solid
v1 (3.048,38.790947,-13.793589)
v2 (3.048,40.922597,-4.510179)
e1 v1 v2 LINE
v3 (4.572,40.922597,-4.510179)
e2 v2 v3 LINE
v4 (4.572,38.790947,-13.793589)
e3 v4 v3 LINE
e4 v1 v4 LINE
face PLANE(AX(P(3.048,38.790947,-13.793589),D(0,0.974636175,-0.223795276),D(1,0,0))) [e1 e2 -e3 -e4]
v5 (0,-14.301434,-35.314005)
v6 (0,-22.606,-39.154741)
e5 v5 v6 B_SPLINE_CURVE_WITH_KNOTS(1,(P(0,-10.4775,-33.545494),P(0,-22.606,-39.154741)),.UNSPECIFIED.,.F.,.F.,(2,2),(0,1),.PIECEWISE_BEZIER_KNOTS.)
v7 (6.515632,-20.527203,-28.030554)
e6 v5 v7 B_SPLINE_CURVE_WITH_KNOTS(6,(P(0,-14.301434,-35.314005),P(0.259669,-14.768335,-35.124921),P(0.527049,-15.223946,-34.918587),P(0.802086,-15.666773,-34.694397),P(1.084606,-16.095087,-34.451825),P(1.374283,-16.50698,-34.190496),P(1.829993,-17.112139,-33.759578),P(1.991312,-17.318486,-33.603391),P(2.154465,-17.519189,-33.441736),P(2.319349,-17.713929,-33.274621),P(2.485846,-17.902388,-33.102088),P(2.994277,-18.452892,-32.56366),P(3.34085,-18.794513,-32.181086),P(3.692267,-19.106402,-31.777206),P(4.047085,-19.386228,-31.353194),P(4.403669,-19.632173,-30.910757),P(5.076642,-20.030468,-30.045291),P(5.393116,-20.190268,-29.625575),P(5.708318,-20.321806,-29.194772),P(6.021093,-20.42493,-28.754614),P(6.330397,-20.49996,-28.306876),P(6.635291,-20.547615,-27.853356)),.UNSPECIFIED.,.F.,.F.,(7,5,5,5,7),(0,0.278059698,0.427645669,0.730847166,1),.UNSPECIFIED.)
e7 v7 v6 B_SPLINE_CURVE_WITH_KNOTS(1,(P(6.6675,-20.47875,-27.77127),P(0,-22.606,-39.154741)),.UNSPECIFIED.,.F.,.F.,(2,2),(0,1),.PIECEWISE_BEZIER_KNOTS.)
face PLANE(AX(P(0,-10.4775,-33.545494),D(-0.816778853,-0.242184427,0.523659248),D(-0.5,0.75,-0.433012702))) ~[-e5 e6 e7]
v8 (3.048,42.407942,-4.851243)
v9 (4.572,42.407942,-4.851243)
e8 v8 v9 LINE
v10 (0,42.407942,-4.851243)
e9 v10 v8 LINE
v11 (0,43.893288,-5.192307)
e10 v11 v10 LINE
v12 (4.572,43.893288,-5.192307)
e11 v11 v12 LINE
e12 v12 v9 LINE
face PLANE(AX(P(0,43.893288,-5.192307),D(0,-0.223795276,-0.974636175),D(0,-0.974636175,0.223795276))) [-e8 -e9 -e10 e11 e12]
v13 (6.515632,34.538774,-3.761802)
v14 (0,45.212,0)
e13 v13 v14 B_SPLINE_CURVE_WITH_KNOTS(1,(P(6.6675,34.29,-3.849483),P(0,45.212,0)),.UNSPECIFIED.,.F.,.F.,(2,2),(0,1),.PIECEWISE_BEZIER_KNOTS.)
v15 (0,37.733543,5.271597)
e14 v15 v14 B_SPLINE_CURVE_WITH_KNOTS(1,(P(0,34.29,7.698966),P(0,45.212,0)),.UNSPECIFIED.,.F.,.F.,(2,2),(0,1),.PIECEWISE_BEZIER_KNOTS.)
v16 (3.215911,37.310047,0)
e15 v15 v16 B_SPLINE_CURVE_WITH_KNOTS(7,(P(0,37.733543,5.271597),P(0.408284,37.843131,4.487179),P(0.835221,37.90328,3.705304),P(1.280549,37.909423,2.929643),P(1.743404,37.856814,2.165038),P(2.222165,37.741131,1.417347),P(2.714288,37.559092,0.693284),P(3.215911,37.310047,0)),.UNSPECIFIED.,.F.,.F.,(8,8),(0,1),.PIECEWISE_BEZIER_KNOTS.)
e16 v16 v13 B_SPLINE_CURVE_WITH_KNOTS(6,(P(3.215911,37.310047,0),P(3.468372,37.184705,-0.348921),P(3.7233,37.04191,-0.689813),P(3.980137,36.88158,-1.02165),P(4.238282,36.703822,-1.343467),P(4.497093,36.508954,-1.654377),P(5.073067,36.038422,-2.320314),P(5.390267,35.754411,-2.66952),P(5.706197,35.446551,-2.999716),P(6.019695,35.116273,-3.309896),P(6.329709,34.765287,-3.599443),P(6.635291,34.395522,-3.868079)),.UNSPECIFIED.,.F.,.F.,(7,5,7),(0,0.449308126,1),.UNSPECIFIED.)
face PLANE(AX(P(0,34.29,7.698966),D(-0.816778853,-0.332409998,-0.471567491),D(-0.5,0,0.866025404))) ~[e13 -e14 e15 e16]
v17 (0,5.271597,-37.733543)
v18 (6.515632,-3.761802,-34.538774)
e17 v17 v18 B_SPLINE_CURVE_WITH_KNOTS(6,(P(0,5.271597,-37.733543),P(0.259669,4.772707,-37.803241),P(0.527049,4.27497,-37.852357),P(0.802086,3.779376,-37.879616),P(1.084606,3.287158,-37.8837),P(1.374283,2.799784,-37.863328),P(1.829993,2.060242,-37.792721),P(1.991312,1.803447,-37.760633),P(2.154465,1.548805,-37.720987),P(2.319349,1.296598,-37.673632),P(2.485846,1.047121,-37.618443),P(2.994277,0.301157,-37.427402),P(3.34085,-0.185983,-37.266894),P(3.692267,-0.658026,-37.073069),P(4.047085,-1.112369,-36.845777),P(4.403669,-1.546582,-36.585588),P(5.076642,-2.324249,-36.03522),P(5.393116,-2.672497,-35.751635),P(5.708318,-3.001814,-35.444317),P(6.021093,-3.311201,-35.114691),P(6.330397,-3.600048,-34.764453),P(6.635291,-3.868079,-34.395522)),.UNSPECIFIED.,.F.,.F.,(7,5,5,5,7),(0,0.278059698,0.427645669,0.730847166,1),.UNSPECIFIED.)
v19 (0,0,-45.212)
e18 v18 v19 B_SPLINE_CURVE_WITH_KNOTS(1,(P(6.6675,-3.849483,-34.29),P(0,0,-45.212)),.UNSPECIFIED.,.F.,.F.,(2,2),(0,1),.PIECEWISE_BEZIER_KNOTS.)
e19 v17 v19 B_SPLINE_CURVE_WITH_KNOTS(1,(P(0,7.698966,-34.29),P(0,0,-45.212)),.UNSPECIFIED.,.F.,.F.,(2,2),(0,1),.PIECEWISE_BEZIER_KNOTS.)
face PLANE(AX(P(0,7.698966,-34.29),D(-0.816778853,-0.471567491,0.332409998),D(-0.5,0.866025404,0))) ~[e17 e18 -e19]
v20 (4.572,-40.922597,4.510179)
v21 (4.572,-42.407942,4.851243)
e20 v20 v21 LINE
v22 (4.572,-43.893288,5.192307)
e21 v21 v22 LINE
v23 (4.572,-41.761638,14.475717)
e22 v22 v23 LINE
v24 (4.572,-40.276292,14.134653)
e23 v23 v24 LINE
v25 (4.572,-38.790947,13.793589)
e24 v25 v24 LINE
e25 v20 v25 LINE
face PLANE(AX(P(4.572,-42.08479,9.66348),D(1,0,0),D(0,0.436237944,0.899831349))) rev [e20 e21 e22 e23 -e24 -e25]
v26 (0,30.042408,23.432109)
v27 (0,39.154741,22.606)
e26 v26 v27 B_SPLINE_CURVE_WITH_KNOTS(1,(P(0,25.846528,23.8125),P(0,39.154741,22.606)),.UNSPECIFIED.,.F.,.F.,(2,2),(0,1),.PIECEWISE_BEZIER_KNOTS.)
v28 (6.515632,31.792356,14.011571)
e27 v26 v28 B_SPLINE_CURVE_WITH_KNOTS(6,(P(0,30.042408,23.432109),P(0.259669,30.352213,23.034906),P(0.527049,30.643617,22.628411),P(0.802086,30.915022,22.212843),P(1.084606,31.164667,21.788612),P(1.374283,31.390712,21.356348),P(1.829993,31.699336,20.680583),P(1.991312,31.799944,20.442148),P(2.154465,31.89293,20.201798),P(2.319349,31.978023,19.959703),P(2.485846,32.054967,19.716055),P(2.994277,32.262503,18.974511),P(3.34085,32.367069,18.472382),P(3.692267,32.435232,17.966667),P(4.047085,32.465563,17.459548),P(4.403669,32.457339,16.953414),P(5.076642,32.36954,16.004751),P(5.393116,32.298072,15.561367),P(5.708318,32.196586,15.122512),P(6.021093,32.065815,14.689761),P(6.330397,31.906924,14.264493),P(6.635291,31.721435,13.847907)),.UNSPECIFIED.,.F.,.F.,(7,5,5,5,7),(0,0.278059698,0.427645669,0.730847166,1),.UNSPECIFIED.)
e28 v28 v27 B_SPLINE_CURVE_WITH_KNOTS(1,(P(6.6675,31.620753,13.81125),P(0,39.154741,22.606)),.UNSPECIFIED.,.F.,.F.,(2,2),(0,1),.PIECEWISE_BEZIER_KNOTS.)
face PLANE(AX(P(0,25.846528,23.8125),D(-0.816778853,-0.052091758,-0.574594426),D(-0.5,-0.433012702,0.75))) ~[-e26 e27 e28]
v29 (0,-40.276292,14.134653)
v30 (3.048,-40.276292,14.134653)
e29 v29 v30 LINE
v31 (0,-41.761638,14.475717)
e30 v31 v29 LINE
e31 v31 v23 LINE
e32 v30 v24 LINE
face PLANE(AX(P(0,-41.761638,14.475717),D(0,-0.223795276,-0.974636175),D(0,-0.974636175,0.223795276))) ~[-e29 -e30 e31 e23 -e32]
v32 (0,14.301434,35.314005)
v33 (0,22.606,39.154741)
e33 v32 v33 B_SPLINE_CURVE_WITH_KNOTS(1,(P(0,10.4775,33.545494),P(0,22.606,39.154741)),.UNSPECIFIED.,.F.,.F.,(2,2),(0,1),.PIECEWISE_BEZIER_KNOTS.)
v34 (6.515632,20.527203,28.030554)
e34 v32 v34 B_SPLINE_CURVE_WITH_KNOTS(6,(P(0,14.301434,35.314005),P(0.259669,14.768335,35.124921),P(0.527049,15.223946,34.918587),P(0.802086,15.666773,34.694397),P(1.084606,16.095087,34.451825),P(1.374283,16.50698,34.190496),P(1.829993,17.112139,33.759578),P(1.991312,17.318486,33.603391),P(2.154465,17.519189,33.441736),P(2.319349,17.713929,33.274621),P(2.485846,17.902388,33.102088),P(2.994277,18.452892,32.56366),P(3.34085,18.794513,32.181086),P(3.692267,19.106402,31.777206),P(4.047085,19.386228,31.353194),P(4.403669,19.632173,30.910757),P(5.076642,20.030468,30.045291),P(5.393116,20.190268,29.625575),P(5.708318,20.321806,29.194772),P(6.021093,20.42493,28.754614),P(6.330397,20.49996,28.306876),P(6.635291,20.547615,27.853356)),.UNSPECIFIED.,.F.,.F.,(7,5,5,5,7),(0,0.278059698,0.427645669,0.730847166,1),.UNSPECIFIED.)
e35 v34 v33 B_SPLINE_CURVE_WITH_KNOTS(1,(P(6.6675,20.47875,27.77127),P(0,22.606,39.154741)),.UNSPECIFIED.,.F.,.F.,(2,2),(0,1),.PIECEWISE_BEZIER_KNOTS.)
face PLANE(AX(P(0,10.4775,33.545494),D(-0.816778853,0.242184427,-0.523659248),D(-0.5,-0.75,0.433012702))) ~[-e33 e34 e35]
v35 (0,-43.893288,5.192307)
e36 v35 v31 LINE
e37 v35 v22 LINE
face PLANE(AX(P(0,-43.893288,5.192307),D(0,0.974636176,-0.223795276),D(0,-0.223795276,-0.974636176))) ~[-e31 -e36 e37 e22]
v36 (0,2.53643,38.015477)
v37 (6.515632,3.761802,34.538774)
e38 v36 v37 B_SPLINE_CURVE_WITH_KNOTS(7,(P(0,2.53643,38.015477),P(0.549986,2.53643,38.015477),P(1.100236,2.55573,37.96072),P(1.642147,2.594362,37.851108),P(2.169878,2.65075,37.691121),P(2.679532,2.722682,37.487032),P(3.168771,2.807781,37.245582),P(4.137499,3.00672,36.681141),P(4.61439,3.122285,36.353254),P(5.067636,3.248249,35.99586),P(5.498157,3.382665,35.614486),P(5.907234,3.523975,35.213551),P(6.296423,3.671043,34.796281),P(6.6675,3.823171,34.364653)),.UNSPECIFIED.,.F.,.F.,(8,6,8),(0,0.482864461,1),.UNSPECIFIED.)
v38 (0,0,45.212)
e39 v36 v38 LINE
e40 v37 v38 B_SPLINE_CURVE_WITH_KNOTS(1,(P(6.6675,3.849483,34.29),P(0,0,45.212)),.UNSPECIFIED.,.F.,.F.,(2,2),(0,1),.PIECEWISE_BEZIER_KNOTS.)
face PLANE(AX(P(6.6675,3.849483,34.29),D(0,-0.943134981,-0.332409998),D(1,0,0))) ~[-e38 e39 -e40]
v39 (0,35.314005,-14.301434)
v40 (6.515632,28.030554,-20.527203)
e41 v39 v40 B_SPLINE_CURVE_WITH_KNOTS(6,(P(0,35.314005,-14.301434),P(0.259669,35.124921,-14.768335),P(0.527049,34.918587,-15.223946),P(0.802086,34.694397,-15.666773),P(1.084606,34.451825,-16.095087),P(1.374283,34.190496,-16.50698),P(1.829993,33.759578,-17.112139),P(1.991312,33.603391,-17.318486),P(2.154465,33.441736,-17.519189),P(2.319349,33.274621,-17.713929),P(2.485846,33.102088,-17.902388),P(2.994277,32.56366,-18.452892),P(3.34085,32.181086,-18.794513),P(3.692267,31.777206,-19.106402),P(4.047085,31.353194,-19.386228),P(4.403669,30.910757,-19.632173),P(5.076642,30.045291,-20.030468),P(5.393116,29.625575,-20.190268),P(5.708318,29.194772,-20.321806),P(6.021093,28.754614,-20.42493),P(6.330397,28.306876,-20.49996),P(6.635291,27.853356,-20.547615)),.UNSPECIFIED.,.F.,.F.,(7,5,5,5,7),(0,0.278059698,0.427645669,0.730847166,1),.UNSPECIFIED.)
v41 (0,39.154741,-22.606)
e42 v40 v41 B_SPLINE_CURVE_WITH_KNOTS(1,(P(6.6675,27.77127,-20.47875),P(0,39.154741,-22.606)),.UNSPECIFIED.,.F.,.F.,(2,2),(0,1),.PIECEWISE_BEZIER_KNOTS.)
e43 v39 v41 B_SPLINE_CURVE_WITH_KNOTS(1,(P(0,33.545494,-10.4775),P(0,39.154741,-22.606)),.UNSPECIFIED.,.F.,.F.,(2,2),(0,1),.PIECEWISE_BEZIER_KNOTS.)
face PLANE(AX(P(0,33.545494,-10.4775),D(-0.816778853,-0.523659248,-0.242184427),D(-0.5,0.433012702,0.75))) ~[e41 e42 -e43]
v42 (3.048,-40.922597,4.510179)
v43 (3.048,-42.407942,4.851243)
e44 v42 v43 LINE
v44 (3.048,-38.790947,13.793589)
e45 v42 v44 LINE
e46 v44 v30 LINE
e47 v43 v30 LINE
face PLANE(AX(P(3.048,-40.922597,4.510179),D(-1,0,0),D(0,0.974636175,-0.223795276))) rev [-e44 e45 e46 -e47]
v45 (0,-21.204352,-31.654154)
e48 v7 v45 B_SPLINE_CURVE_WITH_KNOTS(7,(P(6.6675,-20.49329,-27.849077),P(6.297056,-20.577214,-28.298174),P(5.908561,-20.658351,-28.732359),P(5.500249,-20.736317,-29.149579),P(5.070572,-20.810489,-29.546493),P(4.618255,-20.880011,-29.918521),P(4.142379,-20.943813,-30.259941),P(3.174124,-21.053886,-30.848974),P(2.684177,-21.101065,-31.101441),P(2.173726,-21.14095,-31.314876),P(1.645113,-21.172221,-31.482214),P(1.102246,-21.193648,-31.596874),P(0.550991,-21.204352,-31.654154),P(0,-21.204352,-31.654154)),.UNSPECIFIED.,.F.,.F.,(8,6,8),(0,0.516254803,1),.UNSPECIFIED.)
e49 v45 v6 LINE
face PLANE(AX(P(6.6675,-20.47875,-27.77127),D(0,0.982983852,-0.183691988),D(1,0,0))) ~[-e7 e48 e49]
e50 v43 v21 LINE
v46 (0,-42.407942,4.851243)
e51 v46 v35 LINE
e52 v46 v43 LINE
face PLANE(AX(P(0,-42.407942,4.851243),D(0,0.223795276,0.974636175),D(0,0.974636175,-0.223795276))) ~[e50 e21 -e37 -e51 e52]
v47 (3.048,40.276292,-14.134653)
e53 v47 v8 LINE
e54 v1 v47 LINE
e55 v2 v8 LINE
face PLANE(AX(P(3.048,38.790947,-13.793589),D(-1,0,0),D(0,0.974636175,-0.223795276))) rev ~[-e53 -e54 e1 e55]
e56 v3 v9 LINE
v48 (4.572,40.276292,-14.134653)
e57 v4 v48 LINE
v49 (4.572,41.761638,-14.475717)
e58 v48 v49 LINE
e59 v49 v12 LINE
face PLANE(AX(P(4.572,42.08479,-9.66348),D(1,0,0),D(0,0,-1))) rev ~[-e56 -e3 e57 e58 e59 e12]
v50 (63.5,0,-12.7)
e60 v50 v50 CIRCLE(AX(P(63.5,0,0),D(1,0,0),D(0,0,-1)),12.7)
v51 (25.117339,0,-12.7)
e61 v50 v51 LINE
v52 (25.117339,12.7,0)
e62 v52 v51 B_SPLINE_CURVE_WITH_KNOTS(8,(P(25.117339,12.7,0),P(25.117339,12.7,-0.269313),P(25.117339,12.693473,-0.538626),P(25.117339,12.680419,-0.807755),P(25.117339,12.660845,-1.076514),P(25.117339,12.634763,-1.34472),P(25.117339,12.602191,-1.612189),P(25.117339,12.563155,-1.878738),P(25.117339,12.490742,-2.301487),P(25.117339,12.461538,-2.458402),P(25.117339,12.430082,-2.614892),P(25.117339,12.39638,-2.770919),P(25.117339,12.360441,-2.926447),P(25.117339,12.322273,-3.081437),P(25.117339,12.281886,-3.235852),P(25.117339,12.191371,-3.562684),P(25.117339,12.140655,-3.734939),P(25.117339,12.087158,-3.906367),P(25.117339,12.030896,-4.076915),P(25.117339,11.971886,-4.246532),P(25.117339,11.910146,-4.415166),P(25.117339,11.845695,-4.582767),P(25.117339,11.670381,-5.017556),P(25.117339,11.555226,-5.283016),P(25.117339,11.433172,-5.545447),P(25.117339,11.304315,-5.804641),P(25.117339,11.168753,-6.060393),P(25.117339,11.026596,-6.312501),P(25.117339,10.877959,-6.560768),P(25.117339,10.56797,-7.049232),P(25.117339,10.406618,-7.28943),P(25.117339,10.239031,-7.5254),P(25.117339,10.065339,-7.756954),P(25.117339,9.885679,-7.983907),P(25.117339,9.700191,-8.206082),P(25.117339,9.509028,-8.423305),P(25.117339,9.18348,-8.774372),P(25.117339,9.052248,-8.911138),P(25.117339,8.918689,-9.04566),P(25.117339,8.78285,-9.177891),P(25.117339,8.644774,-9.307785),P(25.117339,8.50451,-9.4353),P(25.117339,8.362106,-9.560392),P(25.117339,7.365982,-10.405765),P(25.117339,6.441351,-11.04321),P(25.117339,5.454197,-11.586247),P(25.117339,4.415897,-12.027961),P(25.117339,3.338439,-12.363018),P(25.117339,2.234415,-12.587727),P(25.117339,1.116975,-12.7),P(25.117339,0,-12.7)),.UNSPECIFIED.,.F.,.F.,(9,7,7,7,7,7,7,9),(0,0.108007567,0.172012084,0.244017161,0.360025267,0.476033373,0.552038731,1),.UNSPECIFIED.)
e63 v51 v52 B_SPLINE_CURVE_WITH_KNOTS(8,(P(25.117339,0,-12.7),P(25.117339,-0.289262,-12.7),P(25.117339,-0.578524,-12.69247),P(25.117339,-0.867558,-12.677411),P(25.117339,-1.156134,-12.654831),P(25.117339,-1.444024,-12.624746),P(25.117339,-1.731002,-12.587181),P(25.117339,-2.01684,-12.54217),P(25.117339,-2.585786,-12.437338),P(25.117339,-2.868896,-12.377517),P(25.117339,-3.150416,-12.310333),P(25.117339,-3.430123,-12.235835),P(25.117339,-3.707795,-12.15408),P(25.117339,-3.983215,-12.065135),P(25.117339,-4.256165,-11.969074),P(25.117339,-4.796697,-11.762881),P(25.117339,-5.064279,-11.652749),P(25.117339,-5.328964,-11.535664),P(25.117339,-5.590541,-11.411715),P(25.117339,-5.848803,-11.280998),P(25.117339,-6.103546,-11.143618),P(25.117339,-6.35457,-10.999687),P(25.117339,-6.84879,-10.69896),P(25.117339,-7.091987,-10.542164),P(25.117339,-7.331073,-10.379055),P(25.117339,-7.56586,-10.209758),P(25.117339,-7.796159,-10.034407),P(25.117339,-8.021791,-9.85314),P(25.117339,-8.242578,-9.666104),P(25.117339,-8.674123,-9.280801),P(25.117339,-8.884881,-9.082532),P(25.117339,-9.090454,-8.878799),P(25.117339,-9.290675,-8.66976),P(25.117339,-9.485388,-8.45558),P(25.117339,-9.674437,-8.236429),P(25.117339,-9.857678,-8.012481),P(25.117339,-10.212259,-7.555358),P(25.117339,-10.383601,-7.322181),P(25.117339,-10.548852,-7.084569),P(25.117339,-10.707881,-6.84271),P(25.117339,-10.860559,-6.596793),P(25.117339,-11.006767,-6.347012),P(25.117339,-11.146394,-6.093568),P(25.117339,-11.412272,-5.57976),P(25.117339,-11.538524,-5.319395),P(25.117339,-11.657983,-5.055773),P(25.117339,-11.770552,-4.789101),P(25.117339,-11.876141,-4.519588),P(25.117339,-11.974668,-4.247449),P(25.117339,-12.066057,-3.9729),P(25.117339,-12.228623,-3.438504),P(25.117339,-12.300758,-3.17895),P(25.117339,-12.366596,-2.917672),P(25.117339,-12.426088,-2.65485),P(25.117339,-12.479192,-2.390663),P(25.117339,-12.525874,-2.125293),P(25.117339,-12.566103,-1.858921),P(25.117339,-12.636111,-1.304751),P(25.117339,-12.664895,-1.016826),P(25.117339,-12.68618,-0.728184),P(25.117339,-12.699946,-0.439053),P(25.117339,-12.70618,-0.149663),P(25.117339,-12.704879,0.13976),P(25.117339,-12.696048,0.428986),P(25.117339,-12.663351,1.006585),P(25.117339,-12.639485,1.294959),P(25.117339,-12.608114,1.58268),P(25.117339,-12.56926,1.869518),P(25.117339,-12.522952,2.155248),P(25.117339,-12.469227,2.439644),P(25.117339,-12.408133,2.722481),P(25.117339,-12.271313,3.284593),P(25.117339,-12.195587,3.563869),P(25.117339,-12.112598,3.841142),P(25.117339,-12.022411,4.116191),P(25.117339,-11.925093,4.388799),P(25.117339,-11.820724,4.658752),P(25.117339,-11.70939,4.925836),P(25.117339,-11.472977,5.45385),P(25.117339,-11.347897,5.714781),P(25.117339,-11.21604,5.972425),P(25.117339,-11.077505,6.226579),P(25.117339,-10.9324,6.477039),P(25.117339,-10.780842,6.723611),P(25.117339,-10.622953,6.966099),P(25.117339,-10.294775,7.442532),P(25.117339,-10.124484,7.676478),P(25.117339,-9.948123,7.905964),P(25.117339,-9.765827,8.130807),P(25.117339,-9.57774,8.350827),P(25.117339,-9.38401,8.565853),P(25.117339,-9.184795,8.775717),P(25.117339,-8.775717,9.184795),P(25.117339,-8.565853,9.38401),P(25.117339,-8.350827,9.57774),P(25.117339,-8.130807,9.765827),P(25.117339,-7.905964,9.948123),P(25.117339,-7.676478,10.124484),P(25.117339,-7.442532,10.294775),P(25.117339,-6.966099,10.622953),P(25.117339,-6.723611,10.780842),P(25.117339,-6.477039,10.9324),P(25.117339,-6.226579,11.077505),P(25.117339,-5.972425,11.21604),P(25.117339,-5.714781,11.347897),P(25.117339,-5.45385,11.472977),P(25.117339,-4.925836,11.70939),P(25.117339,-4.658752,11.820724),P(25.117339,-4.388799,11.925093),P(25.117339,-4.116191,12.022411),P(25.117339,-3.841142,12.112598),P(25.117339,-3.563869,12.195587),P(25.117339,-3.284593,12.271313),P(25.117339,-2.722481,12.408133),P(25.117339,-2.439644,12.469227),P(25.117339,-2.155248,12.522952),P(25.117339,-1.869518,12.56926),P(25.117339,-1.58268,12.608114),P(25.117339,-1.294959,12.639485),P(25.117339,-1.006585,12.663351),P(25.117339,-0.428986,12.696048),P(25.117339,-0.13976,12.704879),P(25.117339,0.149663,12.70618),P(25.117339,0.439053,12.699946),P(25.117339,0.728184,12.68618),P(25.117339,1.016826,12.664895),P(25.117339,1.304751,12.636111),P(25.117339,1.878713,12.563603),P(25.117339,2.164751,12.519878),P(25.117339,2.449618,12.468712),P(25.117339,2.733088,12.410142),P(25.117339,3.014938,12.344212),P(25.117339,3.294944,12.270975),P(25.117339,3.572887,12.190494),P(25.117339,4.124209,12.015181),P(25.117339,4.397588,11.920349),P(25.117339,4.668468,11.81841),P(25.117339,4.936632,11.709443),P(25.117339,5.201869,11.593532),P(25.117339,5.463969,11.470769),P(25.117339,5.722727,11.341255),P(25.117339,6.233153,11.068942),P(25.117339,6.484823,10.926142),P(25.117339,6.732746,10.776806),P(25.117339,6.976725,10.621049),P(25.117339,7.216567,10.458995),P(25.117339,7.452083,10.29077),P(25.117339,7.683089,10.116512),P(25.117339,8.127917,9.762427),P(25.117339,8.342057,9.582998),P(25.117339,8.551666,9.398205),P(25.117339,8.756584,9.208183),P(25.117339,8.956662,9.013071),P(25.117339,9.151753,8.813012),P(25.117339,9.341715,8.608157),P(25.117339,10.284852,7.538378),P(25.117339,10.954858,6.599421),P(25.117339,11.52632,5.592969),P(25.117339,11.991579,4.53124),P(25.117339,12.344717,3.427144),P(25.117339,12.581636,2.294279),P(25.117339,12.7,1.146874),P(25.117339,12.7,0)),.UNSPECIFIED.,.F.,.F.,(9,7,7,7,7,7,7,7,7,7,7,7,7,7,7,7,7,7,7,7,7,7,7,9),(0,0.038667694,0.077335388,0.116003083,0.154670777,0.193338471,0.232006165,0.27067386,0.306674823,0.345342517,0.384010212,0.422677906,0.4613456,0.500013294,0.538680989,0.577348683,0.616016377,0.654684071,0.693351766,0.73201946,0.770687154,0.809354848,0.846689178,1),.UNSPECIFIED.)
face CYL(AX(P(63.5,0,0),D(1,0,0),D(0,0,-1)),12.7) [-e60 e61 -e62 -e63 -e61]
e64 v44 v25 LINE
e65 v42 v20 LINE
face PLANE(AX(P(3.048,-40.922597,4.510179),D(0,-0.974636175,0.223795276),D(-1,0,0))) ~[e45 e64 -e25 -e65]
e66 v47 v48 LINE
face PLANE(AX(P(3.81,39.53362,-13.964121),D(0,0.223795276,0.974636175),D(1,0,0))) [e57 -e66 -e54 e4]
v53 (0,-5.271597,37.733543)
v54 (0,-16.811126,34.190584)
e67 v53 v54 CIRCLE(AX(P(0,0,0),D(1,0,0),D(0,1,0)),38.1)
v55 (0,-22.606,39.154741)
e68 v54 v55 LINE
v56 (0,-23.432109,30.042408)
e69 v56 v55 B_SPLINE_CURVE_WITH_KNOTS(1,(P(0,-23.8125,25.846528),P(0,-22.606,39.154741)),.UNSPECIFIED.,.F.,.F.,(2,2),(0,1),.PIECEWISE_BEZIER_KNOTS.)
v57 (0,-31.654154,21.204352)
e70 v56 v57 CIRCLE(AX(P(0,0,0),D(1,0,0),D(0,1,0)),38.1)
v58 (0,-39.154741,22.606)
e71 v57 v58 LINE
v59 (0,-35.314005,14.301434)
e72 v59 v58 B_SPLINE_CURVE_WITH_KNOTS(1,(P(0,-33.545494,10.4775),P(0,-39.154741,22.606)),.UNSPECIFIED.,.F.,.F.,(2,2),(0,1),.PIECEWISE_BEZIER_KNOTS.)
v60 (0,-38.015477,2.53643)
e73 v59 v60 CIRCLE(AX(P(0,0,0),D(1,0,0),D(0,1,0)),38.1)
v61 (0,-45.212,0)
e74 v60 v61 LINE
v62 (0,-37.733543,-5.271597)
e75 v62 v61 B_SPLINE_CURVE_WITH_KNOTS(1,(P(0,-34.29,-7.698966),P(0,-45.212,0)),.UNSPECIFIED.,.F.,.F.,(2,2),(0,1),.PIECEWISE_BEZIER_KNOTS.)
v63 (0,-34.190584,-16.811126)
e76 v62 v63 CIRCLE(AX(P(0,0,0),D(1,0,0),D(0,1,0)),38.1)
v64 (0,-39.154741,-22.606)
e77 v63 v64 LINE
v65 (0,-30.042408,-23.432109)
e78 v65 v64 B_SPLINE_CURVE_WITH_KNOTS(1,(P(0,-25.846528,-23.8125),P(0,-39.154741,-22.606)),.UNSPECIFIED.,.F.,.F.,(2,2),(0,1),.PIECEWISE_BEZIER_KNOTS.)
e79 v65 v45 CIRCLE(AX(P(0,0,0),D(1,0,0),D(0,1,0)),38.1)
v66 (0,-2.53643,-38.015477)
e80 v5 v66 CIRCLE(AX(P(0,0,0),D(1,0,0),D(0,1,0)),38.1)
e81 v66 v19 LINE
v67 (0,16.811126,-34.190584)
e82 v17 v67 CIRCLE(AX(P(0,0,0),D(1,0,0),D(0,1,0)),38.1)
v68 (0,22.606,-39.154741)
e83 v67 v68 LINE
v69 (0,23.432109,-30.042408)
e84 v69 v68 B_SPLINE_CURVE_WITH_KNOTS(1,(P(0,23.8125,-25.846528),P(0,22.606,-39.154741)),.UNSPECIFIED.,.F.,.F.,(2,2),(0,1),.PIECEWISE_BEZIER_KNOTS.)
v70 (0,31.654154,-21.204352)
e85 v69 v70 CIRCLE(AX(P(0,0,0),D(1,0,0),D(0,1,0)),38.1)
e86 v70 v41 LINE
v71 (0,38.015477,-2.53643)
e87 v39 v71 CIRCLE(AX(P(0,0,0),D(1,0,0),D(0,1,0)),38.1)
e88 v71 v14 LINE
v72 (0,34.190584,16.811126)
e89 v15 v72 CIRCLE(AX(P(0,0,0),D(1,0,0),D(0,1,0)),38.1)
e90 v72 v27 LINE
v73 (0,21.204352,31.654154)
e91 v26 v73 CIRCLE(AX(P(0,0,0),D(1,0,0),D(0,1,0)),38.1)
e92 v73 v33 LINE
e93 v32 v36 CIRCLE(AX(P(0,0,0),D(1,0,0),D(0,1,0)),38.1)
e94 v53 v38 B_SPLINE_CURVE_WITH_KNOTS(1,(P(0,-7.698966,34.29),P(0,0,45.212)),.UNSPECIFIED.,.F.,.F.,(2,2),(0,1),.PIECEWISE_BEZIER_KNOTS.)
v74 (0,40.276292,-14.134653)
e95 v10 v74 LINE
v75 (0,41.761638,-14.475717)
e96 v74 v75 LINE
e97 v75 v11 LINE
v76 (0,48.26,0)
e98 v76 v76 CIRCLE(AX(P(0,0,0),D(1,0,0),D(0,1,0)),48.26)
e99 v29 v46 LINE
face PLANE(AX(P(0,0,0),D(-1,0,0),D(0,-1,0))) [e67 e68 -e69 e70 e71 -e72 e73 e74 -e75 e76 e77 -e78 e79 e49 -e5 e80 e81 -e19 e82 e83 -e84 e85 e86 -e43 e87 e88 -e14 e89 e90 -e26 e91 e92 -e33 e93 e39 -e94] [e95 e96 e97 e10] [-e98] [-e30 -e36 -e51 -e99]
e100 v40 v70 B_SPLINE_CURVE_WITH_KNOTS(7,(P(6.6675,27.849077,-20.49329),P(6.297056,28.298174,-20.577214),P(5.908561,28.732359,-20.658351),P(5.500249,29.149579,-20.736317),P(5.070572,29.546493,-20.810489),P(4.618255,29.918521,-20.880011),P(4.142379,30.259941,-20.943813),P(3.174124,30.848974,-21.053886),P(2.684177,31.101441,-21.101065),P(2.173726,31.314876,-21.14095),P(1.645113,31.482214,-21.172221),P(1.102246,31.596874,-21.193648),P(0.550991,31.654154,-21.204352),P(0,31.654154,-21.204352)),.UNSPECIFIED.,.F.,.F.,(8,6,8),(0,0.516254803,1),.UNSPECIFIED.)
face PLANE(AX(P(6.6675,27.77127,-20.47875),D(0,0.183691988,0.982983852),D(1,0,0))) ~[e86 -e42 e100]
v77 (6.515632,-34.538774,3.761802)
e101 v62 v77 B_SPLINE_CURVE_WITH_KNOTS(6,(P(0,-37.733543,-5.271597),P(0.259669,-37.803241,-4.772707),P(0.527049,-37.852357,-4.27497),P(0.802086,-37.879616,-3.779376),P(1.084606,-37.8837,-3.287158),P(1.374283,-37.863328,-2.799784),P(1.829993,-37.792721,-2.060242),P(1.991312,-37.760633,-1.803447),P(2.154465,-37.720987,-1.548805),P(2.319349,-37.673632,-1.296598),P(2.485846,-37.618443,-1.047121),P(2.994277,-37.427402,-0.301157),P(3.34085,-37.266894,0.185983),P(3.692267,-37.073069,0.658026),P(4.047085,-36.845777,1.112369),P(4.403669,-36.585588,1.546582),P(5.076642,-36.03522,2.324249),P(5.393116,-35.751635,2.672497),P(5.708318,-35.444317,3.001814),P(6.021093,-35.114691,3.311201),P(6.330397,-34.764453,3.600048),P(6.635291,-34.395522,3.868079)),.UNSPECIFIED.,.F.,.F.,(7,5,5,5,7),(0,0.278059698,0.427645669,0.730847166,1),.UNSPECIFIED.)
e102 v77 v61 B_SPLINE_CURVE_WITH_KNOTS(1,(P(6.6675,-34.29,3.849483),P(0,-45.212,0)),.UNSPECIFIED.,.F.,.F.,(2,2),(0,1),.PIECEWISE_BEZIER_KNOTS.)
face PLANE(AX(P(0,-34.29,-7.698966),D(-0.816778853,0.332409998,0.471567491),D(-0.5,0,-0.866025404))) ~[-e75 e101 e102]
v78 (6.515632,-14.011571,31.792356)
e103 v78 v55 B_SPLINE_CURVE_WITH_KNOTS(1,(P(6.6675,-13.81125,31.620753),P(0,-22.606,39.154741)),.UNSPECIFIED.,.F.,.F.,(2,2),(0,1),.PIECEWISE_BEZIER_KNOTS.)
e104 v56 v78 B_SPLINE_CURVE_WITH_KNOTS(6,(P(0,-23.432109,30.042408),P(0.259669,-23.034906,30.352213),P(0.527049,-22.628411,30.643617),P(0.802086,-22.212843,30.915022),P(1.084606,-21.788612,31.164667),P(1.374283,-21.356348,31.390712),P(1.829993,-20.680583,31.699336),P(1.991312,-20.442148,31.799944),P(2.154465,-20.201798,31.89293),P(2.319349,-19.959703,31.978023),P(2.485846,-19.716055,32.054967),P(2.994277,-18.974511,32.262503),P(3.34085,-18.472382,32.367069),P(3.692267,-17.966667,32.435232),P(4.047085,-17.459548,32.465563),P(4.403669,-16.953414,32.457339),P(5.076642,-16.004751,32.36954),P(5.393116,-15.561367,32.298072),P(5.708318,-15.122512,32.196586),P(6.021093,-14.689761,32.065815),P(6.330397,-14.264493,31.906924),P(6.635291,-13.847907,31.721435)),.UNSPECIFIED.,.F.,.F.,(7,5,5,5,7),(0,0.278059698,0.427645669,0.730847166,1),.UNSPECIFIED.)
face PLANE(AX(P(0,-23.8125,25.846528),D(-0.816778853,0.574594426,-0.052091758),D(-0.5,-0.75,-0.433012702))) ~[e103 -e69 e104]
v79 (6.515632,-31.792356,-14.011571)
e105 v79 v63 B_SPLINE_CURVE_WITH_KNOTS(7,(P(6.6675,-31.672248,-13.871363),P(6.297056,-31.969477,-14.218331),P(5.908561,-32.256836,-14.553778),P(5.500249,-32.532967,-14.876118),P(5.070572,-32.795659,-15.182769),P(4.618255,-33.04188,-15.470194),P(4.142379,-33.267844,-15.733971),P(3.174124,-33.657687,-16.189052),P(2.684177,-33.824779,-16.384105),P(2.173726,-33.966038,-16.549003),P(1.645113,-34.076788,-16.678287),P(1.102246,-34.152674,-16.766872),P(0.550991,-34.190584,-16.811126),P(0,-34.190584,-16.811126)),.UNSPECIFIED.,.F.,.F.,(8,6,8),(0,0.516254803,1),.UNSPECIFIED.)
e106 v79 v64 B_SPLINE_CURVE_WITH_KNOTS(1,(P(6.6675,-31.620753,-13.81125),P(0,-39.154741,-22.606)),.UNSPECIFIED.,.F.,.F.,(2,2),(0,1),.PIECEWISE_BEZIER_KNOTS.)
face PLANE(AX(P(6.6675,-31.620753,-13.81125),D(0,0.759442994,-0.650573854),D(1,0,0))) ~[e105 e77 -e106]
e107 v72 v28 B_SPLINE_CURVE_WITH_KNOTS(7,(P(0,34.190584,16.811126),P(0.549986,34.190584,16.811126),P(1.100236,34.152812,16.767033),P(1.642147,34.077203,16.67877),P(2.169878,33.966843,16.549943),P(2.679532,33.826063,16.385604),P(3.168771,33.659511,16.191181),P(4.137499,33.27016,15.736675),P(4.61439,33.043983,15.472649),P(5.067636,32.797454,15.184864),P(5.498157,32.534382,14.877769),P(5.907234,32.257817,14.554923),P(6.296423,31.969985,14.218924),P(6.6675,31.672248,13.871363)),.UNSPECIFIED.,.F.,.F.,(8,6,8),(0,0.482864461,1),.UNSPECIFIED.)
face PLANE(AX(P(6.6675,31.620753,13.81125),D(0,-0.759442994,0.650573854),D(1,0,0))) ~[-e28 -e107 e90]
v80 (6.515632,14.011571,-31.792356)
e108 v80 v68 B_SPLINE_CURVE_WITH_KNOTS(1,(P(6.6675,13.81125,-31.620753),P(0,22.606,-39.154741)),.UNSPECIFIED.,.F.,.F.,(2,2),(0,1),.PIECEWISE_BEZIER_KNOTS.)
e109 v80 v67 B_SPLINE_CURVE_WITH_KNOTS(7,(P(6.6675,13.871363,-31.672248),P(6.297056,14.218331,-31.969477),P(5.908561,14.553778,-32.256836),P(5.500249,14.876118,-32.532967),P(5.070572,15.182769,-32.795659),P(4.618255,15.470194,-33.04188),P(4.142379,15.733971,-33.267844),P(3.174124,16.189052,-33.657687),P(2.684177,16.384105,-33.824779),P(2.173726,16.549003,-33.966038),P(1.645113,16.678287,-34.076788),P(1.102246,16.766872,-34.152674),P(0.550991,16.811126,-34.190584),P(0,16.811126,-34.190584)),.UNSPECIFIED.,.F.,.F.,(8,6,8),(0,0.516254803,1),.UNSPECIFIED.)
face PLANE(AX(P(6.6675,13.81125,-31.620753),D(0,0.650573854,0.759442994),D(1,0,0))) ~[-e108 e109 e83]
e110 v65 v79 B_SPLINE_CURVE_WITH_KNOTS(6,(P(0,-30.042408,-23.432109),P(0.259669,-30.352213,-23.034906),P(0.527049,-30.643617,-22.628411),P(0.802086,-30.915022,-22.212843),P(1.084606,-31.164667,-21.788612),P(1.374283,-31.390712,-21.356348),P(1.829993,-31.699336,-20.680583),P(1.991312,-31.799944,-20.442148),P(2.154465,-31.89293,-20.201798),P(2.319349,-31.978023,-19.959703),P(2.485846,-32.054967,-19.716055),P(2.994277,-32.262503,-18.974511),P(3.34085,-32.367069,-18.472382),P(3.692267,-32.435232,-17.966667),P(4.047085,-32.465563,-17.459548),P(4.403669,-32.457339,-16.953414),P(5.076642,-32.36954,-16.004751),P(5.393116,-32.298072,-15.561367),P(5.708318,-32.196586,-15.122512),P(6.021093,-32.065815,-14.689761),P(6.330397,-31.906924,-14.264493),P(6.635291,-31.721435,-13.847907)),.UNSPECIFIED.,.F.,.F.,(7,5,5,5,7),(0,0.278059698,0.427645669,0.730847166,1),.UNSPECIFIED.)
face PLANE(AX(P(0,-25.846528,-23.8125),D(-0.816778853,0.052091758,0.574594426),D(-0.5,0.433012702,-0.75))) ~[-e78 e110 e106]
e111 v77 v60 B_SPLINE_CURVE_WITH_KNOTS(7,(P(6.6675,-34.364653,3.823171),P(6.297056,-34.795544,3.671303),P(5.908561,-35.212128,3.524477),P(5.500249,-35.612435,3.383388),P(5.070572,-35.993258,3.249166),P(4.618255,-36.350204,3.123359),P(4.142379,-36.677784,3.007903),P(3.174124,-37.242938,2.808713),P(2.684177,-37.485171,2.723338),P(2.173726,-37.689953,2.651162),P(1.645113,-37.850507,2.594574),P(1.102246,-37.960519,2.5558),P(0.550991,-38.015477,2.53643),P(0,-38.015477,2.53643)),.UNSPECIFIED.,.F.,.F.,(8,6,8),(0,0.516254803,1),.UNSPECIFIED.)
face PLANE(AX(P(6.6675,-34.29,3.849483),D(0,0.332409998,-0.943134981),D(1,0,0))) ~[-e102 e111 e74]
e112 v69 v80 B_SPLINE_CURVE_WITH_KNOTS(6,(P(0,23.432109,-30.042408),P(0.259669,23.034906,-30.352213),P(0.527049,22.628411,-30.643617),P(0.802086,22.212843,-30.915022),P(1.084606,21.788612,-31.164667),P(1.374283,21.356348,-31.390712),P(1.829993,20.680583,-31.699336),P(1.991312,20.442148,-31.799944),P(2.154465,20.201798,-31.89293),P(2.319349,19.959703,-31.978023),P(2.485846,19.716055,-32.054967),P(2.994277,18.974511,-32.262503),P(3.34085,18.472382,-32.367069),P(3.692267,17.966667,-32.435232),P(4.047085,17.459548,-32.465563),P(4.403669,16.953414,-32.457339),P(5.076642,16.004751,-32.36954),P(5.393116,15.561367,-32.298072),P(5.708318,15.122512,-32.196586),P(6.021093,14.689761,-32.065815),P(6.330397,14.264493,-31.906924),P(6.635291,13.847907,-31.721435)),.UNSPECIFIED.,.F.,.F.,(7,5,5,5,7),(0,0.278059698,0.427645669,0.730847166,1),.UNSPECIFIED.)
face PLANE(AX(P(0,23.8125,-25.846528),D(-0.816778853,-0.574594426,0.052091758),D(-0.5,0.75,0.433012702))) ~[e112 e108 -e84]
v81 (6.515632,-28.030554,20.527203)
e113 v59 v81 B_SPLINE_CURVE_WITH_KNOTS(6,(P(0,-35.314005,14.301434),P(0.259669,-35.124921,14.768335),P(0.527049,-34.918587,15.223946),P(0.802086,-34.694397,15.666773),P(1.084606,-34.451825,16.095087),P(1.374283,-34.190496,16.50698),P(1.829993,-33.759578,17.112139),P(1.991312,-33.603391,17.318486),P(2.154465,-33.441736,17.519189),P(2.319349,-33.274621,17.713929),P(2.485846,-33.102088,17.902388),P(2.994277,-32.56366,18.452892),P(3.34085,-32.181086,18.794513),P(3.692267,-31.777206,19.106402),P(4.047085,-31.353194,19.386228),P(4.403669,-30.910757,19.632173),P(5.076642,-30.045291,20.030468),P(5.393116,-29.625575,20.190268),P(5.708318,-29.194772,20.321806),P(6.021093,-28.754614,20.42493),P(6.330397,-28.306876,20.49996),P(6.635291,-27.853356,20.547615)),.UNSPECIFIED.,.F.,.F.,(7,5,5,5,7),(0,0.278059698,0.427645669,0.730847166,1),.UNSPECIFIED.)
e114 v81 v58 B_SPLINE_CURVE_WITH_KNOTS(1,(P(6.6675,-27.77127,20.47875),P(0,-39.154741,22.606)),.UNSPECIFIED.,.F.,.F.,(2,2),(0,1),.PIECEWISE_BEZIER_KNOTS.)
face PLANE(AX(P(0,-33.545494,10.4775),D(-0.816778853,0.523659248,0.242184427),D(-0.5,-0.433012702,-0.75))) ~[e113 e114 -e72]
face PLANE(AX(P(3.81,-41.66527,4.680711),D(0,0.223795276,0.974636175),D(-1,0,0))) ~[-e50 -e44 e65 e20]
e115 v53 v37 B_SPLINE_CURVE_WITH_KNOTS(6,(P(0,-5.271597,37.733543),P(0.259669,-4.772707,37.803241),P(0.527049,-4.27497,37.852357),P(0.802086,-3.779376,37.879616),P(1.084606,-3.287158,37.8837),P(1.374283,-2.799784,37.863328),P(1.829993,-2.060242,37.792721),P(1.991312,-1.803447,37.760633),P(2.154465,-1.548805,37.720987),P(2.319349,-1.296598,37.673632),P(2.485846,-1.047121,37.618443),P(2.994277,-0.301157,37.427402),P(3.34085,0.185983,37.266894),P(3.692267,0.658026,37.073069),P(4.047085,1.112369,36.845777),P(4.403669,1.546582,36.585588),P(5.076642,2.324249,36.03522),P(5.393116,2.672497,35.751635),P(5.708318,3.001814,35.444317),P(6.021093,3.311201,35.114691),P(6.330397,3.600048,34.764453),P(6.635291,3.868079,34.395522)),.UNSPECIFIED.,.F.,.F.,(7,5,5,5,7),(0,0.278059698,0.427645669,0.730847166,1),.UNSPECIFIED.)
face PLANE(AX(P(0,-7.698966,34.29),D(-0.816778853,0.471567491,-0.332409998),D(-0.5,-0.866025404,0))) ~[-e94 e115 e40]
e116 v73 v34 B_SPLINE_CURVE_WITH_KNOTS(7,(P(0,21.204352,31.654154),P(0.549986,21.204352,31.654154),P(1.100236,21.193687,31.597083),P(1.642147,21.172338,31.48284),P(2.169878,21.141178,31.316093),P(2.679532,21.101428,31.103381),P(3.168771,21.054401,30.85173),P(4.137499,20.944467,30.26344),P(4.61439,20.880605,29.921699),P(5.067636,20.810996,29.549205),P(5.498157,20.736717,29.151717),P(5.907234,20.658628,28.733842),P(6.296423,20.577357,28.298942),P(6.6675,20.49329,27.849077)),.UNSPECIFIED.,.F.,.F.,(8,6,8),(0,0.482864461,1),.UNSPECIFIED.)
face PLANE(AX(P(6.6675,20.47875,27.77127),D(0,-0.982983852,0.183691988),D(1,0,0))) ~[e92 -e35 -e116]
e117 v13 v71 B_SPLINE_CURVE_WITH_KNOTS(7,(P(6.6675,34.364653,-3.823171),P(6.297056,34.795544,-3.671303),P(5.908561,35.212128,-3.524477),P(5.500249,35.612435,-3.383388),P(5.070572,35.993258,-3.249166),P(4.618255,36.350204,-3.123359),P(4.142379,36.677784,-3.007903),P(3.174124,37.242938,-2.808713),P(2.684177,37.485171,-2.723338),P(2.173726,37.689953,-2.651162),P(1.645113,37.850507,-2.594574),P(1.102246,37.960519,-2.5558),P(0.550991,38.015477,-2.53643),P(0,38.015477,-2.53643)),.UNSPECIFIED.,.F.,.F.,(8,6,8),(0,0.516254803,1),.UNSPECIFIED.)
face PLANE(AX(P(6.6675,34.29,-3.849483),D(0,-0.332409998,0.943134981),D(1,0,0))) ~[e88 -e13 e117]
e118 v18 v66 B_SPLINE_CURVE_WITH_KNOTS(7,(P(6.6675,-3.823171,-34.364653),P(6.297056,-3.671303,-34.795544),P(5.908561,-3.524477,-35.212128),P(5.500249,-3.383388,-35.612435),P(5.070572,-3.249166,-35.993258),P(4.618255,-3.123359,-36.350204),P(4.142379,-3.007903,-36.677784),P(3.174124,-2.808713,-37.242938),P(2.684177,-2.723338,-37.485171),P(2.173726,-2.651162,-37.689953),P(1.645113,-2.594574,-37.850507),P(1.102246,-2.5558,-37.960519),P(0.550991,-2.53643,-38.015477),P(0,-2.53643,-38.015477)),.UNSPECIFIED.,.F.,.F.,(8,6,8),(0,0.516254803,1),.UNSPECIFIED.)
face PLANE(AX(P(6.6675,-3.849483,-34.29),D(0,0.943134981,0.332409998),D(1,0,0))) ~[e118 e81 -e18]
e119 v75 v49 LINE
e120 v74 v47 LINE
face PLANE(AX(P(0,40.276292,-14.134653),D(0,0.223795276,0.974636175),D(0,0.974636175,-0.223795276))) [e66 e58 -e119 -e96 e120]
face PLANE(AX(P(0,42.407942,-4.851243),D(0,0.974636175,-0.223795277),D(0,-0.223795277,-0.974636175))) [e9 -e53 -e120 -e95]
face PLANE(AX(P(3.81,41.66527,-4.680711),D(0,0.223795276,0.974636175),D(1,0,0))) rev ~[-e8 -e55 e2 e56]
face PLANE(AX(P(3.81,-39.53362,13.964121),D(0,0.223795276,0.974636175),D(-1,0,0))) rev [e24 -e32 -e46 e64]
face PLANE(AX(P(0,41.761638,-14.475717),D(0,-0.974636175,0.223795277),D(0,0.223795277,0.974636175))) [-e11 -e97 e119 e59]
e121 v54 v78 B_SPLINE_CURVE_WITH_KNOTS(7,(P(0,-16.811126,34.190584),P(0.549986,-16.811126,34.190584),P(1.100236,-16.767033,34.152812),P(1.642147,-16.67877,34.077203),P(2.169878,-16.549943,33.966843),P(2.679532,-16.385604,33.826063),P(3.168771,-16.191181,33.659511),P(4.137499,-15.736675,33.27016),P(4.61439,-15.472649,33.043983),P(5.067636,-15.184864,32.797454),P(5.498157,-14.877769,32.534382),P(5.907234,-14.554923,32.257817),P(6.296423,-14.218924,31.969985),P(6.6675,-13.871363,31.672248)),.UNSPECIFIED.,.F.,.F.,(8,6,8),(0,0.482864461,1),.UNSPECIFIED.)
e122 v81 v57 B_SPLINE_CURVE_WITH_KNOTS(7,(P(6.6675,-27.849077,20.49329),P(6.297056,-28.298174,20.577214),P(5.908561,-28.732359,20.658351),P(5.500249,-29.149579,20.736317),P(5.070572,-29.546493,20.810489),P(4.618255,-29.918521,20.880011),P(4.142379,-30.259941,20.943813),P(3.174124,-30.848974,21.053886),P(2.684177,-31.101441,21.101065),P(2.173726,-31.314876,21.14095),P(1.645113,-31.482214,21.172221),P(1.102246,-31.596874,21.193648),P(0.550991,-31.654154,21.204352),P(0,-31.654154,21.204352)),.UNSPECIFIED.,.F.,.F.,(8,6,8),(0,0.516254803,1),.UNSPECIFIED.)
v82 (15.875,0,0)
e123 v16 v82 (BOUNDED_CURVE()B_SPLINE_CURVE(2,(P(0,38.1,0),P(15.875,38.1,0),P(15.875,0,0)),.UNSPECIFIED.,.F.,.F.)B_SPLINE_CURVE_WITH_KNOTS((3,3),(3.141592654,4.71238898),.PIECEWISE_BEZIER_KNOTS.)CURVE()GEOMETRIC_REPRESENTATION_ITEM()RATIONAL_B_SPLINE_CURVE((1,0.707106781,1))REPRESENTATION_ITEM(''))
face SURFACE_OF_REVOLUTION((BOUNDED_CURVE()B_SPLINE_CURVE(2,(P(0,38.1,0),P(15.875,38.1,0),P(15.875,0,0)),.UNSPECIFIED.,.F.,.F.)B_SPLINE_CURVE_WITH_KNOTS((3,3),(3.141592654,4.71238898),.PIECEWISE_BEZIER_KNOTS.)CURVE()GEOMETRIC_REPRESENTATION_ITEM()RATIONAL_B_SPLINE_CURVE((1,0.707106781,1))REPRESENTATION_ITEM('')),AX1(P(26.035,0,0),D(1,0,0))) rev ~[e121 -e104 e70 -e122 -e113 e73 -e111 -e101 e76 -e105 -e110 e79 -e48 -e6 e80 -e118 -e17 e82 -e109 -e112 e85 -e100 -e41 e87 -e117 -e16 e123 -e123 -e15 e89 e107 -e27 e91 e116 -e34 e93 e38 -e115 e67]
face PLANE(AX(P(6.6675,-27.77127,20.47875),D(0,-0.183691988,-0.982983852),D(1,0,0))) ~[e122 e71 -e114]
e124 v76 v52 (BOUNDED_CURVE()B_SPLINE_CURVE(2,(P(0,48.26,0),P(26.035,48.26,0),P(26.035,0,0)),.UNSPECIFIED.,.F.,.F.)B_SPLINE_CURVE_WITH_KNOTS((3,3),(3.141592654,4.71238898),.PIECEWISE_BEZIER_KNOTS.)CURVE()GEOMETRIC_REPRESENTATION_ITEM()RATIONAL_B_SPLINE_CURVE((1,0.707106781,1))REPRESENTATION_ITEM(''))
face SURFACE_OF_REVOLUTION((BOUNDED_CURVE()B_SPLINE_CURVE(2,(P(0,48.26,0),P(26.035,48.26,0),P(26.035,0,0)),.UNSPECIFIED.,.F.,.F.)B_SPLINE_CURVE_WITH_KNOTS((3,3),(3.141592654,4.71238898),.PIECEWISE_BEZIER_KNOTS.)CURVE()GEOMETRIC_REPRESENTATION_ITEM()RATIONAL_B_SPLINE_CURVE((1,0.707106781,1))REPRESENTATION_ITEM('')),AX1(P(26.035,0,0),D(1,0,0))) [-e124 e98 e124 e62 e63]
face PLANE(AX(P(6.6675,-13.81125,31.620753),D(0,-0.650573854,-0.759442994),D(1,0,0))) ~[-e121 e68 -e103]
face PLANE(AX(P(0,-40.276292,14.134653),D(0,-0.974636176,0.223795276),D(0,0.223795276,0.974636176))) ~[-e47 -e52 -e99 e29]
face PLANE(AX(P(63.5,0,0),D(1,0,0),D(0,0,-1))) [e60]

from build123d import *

# Parameters (mm, degrees)
CIRPATTERN1_COUNT   = 12
CUT_EXTRUDE1_DEPTH  = 4.572
SKETCH7_W           = 1.524
SKETCH7_H           = 1.524
CUT_EXTRUDE2_DEPTH  = 9.525
BOSS_EXTRUDE1_REACH = 65.5
SKETCH8_R           = 12.7


with BuildPart() as part:
    # Sketch1 → Revolve2 (revolve)
    with BuildSketch(Plane.XY):
        with BuildLine():
            add(Edge.make_bspline(
                [(0, 48.26), (-26.035, 48.26), (-26.035, 0)],
                knots=[3.141592654, 3.141592654, 3.141592654, 4.71238898, 4.71238898, 4.71238898], degree=2, weights=[1, 0.707106781, 1]))
            Line((-26.035, 0), (-15.875, 0))
            add(Edge.make_bspline(
                [(0, 38.1), (-15.875, 38.1), (-15.875, 0)],
                knots=[3.141592654, 3.141592654, 3.141592654, 4.71238898, 4.71238898, 4.71238898], degree=2, weights=[1, 0.707106781, 1]))
            Line((0, 38.1), (0, 48.26))
        make_face()
    revolve(axis=Axis((-26.035, 0, 0), (1, 0, 0)))

    # Sketch2 → Cut-Loft1 section 0
    with BuildSketch(Plane(origin=(0, -34.29, 0), x_dir=(1, 0, 0), z_dir=(0, 1, 0)), mode=Mode.PRIVATE) as cut_loft1_s0:
        Polygon((0, 7.69896584), (-6.6675, -3.84948292), (6.6675, -3.84948292), align=None)
    cut_loft1 = loft([cut_loft1_s0.sketch, Vertex(0, -45.212, 0)], mode=Mode.SUBTRACT)

    # CirPattern1: Cut-Loft1 ×12 about axis
    cirpattern1_axis = Axis((0, 0, 0), (1, 0, 0))
    for i in range(1, CIRPATTERN1_COUNT):
        add(cut_loft1.rotate(cirpattern1_axis, i * 360 / CIRPATTERN1_COUNT), mode=Mode.SUBTRACT)


with BuildPart() as body_2:
    # Mirror5: mirrored copy
    add(part.part.mirror(Plane(origin=(0, 0, 0), x_dir=(0, 0, 1), z_dir=(1, 0, 0))))

    # Sketch6 → Cut-Extrude1 (cut)
    with BuildSketch(Plane(origin=(0, 0, 0), x_dir=(0, 0, -1), z_dir=(1, 0, 0))):
        Polygon((4.851243253, 42.407942289), (14.134652823, 40.27629228), (14.475716824, 41.761637811), (5.192307254, 43.89328782), align=None)
    cut_extrude1 = extrude(amount=CUT_EXTRUDE1_DEPTH, mode=Mode.SUBTRACT)

    # Sketch7 → Cut-Extrude2 (cut)
    with BuildSketch(Plane(origin=(0, -1.065825004, -4.641704785), x_dir=(1, 0, 0), z_dir=(0, 0.223795276, 0.974636175))):
        with Locations((3.81, 41.656)):
            Rectangle(SKETCH7_W, SKETCH7_H)
    cut_extrude2 = extrude(amount=CUT_EXTRUDE2_DEPTH, mode=Mode.SUBTRACT)

    # Mirror6: Cut-Extrude1, Cut-Extrude2 across plane
    add(cut_extrude1.mirror(Plane(origin=(0, 0, 0), x_dir=(0, 0.223795276, 0.974636175), z_dir=(0, -0.974636175, 0.223795276))), mode=Mode.SUBTRACT)
    add(cut_extrude2.mirror(Plane(origin=(0, 0, 0), x_dir=(0, 0.223795276, 0.974636175), z_dir=(0, -0.974636175, 0.223795276))), mode=Mode.SUBTRACT)

    # Sketch8 → Boss-Extrude1 (add, up to next)
    with BuildSketch(Plane(origin=(63.5, 0, 0), x_dir=(0, 0, -1), z_dir=(1, 0, 0)), mode=Mode.PRIVATE) as boss_extrude1_sk1:
        Circle(SKETCH8_R)
    boss_extrude1_tool1 = extrude(boss_extrude1_sk1.sketch, amount=-BOSS_EXTRUDE1_REACH, mode=Mode.PRIVATE) - body_2.part
    add(boss_extrude1_tool1.solids().sort_by_distance((63.5, 0, 0))[0])


solid = body_2.part
